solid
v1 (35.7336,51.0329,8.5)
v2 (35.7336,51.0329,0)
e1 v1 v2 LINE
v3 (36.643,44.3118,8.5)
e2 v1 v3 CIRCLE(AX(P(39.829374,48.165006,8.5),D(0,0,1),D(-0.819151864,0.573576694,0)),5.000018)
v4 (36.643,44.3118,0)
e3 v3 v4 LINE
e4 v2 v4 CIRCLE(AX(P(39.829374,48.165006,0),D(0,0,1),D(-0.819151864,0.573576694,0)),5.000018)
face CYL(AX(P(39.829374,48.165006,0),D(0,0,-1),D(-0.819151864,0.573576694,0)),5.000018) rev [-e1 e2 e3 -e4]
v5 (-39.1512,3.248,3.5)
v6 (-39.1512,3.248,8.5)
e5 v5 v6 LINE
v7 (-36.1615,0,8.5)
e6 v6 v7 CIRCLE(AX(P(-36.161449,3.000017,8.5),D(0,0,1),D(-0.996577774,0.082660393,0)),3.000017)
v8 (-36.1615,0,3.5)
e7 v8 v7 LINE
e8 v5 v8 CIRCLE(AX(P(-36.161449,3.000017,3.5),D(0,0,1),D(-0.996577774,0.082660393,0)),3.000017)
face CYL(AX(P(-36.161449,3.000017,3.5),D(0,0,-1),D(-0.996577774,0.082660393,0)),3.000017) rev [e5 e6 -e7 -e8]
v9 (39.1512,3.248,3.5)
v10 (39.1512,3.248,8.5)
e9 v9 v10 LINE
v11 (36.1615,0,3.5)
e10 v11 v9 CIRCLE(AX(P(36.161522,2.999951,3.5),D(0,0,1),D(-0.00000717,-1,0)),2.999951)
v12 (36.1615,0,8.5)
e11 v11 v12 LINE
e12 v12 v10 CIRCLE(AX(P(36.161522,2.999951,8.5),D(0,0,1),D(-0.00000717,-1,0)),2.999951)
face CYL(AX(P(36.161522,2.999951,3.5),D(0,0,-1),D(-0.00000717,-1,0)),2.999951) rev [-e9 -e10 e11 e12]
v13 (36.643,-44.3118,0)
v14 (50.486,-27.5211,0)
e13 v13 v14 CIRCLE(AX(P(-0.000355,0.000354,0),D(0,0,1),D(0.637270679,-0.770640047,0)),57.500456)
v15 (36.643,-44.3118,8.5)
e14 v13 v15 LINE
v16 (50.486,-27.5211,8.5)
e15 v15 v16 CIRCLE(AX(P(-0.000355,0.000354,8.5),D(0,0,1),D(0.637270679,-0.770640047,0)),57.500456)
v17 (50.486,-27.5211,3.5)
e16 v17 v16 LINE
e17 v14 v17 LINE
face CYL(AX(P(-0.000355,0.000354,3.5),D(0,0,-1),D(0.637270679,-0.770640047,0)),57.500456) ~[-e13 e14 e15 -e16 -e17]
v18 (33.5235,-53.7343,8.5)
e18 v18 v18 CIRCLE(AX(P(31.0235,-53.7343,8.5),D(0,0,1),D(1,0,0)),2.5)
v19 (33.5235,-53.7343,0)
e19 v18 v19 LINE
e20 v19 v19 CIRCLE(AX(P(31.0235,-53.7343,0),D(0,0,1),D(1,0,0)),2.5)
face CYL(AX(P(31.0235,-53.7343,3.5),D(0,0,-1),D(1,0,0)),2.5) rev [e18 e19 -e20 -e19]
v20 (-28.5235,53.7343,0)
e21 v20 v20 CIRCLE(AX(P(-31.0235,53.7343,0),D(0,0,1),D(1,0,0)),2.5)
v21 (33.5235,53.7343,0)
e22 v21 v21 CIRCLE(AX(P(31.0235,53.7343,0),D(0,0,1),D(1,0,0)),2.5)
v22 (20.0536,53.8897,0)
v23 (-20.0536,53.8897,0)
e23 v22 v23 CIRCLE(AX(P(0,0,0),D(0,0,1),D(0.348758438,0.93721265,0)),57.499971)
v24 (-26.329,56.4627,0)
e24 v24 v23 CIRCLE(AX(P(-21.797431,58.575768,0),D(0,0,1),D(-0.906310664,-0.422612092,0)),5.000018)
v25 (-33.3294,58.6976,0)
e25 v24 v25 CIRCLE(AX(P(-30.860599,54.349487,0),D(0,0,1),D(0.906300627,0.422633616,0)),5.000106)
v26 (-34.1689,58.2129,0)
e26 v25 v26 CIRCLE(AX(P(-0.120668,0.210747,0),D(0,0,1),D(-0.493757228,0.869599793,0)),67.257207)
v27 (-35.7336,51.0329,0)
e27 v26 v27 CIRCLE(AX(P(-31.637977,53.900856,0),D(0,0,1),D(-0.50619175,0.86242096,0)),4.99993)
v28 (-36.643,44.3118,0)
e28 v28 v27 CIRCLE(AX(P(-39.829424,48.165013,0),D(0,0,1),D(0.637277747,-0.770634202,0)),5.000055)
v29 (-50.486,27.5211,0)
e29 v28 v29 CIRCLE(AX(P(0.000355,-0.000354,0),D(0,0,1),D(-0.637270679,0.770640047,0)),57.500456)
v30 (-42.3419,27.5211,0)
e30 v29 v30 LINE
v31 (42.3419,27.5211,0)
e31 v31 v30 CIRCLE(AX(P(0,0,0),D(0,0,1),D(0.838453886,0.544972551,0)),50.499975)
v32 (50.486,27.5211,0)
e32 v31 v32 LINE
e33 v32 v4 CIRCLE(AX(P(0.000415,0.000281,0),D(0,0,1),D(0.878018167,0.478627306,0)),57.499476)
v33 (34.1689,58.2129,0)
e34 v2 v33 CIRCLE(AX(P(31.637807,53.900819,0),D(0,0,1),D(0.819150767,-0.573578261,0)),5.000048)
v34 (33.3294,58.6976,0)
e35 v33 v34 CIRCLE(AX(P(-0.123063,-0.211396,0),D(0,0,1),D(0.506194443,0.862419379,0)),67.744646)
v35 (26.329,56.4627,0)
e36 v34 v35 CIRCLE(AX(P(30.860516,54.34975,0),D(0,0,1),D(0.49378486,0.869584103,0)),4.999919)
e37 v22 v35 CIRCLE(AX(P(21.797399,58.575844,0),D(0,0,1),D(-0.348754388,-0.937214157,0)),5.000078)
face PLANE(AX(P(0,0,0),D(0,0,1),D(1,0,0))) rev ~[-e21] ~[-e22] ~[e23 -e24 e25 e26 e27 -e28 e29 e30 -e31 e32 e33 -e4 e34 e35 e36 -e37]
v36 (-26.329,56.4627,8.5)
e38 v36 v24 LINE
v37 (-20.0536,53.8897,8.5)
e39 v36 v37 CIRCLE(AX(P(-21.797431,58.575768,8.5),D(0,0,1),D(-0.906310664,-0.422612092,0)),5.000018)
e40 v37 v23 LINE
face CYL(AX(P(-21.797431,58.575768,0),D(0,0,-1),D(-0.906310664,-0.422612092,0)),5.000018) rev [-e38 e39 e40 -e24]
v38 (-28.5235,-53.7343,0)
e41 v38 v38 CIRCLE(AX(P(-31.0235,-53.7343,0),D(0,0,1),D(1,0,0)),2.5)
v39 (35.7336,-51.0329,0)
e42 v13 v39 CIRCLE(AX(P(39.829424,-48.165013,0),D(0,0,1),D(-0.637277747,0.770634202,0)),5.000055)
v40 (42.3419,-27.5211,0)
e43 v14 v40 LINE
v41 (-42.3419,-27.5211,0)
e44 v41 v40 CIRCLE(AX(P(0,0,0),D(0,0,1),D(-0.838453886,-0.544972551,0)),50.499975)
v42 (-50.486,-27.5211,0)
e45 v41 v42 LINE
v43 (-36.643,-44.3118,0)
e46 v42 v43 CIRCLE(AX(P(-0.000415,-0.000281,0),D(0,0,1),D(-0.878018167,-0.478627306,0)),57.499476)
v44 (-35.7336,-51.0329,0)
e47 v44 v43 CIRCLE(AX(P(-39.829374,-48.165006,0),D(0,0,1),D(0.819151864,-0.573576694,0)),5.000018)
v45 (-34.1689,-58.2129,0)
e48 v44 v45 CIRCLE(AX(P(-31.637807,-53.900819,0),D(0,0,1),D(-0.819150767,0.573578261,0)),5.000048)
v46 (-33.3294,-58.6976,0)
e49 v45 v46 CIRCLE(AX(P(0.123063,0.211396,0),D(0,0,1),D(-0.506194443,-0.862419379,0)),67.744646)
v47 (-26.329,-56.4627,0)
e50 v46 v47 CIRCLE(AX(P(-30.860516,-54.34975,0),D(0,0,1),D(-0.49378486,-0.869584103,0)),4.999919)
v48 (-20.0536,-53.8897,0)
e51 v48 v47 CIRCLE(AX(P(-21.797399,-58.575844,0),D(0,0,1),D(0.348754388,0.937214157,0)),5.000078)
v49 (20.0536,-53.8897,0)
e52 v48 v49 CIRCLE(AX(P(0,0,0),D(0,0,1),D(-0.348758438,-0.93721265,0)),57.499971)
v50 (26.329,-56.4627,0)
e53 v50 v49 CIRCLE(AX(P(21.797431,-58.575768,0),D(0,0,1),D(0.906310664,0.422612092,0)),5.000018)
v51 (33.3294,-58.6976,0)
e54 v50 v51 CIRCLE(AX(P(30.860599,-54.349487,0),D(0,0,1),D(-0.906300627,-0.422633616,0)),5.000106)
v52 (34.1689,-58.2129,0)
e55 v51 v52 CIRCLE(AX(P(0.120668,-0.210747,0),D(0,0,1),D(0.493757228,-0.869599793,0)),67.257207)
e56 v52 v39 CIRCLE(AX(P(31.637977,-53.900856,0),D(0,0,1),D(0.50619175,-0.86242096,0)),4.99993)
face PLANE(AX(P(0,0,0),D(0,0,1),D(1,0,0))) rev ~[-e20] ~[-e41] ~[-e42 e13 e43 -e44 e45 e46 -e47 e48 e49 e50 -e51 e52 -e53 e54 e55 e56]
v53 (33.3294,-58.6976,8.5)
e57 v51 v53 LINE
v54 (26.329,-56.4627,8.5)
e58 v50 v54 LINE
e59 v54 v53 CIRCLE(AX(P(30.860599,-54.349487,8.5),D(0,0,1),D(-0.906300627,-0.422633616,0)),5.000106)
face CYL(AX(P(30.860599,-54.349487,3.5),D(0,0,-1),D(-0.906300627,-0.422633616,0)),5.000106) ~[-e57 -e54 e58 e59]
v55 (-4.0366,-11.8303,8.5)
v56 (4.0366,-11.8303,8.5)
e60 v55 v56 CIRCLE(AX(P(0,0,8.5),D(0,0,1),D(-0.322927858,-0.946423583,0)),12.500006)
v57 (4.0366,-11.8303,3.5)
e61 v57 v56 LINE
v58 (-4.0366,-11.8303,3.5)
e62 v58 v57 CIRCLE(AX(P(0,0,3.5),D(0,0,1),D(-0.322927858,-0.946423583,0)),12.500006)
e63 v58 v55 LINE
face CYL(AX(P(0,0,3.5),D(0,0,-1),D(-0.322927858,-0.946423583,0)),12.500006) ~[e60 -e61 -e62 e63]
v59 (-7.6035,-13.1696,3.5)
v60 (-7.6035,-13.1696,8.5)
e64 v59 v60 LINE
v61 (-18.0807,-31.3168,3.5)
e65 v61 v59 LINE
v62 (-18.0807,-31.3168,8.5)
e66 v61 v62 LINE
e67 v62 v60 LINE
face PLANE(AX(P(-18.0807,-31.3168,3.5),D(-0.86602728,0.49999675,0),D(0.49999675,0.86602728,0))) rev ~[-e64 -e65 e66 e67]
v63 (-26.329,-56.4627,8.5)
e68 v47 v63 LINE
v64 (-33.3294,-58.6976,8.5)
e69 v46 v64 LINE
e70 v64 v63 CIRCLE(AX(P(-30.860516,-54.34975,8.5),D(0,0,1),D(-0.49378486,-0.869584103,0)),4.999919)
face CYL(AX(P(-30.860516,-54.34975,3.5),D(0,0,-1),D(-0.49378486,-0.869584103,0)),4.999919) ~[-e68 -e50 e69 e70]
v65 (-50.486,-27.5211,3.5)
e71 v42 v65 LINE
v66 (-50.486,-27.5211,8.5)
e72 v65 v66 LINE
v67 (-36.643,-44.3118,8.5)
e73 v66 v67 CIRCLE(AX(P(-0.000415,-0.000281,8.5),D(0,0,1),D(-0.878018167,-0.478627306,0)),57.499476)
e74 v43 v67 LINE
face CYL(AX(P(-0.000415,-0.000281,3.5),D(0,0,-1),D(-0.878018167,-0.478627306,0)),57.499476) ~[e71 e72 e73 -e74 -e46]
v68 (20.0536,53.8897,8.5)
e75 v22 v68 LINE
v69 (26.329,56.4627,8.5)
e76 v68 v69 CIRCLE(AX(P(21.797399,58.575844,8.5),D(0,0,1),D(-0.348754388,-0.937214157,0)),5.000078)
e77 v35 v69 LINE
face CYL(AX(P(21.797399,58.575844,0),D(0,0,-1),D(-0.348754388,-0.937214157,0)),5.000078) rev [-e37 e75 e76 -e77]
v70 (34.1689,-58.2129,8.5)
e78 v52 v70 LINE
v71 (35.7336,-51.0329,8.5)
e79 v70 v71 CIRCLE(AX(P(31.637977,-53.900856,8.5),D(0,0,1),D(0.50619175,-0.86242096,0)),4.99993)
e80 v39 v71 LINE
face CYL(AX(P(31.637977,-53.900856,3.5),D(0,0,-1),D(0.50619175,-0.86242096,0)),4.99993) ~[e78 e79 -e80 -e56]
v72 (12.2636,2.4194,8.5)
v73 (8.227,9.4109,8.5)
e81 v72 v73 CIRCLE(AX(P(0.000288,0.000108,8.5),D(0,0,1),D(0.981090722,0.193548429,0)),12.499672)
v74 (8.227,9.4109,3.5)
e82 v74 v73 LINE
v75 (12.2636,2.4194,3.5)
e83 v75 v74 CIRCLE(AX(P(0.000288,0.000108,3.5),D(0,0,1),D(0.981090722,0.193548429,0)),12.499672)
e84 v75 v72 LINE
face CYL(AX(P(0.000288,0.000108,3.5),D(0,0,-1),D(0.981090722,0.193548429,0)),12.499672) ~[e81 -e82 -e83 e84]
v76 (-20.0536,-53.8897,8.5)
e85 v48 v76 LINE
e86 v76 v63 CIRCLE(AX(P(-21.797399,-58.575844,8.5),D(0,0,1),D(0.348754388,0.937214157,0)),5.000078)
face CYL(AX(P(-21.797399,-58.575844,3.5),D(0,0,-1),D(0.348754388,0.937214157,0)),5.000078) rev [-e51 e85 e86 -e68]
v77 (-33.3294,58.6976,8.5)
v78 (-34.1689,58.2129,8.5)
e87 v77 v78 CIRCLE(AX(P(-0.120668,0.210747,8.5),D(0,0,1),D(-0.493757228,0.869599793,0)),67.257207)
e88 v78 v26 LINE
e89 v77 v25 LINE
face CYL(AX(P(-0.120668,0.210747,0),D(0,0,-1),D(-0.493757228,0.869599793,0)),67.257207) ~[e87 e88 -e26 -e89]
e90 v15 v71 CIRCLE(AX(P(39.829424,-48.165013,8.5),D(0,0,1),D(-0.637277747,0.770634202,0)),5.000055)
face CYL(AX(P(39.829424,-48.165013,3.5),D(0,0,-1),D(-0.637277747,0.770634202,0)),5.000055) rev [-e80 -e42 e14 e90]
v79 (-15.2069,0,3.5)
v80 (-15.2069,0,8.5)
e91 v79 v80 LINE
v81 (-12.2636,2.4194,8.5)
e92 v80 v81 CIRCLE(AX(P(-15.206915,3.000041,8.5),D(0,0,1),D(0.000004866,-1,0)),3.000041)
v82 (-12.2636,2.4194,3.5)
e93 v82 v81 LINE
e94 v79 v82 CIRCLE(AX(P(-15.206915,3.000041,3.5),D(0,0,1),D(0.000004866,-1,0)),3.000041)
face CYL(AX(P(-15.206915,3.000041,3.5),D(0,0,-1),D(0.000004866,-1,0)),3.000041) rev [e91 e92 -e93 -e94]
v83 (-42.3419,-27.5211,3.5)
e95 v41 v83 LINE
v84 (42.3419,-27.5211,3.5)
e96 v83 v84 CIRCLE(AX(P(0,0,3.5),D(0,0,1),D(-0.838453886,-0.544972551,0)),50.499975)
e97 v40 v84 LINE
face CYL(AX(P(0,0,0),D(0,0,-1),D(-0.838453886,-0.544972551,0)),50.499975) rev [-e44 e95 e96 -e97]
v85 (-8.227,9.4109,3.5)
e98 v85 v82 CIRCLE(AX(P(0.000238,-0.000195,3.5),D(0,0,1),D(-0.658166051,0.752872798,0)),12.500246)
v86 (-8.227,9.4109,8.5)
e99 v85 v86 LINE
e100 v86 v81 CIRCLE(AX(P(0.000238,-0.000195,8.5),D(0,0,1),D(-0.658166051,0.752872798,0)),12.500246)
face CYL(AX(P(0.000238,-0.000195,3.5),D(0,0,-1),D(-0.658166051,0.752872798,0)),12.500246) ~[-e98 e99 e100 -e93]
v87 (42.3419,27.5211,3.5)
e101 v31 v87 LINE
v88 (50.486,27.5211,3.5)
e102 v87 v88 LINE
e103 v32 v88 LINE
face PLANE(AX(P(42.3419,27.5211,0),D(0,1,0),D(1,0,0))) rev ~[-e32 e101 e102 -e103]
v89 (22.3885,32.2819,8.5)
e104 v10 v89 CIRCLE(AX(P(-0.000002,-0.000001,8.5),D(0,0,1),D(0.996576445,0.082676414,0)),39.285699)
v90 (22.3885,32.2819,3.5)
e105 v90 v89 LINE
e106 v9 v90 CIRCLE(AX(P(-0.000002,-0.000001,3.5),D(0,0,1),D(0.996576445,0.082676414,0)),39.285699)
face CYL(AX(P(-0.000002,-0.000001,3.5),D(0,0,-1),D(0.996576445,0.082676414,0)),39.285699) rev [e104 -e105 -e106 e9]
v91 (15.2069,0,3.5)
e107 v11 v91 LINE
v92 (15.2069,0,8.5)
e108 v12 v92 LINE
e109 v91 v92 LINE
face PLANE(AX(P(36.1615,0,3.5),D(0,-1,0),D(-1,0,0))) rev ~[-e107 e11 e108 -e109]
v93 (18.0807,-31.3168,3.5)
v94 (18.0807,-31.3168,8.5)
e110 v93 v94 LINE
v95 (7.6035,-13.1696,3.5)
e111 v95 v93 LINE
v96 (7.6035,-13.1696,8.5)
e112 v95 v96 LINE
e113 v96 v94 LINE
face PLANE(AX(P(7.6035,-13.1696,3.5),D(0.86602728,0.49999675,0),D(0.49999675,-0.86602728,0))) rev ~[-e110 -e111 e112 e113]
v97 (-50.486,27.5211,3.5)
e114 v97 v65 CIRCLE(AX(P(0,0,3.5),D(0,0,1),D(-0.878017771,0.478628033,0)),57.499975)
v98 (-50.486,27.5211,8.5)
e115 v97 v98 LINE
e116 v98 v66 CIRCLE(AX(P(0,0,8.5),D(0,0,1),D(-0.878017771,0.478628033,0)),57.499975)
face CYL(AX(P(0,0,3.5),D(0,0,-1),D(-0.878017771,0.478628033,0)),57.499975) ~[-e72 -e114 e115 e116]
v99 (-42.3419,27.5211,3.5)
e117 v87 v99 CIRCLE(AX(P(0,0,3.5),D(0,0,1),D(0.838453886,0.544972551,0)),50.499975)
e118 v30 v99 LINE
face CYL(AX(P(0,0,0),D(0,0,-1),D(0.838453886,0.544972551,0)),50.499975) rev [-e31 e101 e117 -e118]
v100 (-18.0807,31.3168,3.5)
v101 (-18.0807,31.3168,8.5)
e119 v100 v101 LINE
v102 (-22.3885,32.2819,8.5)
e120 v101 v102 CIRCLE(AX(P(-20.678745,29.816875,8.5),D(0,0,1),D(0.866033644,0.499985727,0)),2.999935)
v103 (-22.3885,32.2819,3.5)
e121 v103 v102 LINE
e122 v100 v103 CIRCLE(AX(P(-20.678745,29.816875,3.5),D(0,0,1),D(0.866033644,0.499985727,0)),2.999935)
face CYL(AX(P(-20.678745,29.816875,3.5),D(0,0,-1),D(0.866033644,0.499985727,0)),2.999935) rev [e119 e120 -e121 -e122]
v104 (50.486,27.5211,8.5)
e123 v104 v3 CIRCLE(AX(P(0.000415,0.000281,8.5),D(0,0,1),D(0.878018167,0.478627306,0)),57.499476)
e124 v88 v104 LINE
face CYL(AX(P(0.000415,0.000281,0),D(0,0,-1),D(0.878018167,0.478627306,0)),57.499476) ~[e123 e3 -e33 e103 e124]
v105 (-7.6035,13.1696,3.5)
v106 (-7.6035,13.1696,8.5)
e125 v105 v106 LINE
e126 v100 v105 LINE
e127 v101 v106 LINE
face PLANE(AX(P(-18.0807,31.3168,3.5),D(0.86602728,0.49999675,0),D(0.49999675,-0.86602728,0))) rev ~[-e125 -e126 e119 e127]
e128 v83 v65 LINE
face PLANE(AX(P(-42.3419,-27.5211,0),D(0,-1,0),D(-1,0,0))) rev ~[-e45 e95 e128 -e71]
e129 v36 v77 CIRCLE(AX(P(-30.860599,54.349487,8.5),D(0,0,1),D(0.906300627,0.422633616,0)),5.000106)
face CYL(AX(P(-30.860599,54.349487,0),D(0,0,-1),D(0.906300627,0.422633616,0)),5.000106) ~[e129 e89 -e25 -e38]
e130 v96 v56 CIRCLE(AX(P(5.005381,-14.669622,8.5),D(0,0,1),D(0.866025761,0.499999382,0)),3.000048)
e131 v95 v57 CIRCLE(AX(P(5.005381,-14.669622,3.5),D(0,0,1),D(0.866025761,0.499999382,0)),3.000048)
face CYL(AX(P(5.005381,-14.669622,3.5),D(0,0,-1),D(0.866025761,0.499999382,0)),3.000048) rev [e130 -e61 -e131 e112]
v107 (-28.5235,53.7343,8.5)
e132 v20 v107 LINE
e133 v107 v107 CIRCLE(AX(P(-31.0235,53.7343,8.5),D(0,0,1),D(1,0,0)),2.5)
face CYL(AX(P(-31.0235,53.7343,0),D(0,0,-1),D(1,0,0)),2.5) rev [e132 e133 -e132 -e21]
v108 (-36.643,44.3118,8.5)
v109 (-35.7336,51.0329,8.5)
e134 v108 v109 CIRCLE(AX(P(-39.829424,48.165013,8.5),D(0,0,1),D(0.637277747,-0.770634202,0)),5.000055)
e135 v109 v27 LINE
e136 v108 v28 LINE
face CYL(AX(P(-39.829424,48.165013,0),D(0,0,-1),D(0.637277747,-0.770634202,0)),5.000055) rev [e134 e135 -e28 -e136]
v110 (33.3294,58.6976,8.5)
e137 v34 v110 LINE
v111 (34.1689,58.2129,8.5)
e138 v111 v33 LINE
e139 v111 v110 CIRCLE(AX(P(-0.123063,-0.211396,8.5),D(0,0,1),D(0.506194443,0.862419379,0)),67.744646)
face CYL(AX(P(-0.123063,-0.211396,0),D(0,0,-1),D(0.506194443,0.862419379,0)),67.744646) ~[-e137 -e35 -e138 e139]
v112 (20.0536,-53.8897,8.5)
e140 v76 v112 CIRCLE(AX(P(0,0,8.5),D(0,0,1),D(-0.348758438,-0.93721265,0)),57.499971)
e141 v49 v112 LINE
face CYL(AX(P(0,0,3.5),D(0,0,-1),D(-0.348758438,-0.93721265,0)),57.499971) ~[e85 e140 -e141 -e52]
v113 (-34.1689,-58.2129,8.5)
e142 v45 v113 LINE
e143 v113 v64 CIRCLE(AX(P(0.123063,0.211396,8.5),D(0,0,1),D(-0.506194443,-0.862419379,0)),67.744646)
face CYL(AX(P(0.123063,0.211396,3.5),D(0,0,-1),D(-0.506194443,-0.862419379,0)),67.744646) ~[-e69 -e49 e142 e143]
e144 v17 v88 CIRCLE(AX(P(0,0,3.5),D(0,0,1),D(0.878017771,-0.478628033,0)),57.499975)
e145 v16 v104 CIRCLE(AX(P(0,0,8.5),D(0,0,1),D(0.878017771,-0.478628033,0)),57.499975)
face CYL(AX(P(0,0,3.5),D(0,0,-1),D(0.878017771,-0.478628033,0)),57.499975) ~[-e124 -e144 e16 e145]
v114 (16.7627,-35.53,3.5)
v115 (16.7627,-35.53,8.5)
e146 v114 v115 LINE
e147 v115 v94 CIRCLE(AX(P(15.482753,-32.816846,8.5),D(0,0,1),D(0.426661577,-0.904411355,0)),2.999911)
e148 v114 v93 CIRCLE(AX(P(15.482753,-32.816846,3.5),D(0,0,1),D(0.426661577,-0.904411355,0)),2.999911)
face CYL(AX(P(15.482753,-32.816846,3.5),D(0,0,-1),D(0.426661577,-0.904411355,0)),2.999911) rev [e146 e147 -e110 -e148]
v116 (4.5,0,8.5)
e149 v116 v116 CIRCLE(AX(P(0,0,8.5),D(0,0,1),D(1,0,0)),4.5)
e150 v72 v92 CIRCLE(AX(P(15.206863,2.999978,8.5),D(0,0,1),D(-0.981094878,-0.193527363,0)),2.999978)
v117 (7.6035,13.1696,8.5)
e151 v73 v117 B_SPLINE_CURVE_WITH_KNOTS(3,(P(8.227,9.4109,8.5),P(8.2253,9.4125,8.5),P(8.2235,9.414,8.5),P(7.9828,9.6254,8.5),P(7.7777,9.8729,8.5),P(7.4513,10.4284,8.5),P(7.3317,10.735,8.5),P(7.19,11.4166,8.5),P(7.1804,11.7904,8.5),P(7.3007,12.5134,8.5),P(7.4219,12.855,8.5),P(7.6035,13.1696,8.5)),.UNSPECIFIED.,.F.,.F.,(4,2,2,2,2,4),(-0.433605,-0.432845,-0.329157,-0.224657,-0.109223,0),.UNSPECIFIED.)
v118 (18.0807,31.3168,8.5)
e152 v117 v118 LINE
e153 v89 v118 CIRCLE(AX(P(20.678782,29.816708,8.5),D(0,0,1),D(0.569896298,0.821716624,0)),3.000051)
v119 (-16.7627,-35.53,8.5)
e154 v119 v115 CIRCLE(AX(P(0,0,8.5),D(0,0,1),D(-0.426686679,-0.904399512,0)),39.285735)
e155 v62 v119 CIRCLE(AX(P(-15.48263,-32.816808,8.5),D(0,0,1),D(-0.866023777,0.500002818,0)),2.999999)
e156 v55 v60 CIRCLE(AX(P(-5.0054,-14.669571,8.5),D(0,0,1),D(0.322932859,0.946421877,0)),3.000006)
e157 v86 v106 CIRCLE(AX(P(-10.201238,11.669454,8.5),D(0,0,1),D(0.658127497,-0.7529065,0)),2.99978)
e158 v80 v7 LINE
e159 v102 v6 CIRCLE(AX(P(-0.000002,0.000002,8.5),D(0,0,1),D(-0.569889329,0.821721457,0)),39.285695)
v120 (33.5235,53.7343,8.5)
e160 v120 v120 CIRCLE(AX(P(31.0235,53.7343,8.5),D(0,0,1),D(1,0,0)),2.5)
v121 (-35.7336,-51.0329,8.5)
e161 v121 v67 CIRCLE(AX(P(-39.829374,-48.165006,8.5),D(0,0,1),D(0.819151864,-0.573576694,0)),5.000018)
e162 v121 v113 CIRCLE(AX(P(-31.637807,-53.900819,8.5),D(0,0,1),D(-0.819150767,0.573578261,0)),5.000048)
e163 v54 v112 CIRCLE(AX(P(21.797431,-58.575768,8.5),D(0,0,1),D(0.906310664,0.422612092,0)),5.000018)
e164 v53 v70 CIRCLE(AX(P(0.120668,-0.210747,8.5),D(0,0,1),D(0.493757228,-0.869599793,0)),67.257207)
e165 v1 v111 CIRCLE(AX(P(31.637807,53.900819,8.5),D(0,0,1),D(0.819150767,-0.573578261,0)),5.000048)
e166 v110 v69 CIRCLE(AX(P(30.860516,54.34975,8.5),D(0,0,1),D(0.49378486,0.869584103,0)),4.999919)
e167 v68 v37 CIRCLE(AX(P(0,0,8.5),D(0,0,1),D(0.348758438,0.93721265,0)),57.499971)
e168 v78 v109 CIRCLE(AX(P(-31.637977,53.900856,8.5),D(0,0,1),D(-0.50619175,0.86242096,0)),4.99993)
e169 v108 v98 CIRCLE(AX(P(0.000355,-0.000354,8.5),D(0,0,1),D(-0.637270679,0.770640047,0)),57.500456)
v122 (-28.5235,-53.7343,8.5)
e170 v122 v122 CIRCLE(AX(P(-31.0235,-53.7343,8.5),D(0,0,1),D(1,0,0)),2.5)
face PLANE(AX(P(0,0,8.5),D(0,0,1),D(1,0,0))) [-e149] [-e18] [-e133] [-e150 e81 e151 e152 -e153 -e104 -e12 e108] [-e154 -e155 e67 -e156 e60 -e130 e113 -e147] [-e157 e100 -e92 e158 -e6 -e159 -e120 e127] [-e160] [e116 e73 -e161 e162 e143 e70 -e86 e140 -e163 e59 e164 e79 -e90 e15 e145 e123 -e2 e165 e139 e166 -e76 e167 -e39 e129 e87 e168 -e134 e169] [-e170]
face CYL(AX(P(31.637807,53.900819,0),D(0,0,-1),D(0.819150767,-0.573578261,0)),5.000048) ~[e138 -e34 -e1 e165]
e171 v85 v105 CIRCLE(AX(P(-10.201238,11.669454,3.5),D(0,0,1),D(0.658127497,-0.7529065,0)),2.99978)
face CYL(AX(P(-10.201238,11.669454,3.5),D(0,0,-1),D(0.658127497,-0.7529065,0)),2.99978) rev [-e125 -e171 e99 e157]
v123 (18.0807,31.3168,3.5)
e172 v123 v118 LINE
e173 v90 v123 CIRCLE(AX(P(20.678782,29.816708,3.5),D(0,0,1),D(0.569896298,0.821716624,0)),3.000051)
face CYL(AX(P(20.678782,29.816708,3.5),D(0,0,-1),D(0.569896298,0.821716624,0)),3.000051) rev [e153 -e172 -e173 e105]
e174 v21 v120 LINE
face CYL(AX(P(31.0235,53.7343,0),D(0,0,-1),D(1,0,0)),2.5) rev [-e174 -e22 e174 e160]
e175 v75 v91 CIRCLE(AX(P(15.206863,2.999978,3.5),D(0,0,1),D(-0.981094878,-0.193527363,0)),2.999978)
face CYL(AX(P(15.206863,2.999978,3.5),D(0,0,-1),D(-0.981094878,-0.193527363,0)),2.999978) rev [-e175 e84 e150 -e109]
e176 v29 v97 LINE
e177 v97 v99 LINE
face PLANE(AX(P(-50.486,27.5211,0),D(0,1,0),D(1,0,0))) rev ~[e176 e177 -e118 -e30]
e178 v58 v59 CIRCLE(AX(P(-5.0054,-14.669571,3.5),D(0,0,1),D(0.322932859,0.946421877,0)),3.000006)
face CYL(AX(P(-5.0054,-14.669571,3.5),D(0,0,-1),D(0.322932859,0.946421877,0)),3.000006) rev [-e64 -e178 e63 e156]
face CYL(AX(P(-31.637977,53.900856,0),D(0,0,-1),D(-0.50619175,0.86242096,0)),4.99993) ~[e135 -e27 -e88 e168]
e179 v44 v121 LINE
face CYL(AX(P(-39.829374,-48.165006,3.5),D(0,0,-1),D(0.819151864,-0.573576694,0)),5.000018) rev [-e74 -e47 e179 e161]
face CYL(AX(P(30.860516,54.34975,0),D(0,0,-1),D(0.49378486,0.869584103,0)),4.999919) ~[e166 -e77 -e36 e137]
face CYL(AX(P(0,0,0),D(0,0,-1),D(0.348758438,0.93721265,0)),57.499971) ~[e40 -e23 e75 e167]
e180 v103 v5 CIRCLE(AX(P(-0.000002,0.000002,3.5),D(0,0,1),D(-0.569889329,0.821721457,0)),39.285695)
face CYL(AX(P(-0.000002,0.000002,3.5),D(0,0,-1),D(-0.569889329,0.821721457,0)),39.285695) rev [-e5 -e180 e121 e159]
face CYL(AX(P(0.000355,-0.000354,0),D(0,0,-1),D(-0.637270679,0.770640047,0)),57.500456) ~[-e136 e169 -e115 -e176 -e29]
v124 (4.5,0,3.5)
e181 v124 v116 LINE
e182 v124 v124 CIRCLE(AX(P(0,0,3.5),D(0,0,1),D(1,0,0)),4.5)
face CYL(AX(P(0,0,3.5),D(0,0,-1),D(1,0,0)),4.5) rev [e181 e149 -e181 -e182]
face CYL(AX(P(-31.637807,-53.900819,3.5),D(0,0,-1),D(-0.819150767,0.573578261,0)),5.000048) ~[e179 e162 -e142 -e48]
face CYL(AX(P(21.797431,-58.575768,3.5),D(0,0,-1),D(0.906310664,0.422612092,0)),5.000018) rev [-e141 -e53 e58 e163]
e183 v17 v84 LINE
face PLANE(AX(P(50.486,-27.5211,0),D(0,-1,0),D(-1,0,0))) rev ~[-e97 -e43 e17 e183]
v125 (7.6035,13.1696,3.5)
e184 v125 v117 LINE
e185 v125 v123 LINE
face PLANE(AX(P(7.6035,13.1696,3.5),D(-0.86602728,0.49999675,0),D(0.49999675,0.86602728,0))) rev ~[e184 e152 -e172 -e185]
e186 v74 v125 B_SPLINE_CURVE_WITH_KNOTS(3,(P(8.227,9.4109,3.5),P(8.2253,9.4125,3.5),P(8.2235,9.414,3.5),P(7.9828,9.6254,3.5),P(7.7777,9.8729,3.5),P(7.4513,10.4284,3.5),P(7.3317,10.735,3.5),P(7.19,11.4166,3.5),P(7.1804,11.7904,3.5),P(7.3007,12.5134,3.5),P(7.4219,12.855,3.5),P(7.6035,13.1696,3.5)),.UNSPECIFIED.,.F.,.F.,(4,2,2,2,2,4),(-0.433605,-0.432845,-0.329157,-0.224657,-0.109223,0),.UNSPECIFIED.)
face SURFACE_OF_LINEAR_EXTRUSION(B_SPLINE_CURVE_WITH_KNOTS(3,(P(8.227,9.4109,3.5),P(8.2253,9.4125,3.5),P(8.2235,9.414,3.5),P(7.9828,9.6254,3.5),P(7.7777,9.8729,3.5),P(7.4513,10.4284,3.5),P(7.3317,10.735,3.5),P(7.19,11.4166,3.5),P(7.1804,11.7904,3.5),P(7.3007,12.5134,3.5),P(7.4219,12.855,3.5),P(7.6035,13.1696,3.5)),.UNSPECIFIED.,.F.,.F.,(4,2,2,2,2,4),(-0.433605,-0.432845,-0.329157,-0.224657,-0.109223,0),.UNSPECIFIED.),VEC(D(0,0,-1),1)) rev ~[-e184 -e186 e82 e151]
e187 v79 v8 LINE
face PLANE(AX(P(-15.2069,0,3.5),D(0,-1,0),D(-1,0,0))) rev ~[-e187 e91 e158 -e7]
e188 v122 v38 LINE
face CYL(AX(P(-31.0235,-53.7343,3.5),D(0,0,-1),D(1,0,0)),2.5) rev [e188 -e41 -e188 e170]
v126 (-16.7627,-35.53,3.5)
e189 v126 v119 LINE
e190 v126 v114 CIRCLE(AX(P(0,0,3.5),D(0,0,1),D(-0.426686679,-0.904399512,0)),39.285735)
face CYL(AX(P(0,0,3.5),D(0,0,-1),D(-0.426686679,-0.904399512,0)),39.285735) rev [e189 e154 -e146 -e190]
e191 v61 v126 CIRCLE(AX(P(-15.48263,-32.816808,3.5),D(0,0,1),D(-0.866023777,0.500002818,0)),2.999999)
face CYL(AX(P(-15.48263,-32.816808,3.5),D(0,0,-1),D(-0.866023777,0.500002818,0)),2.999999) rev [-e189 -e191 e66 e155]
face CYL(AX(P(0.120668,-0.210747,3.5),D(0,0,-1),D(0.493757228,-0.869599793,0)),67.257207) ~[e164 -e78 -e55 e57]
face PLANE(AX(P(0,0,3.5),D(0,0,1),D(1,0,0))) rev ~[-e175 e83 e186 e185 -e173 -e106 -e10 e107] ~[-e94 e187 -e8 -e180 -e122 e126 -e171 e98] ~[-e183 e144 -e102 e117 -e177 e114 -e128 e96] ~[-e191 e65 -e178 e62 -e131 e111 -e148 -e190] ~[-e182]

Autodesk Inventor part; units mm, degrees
ref_plane "YZ Plane" through (0, 0, 0) normal (1, 0, 0) x (0, 1, 0)
ref_plane "XZ Plane" through (0, 0, 0) normal (0, 1, 0) x (-1, 0, 0)
ref_plane "XY Plane" through (0, 0, 0) normal (0, 0, 1) x (1, 0, 0)
sketch "Sketch1" plane through (0, 0, 0) normal (0, 0, 1) x (1, 0, 0)
  circle A0 centre (31.0235, 53.7343) radius 2.5 projected
  arc A1 (33.3294, 58.6976) -> (26.329, 56.4627) centre (30.8605, 54.3496) ccw projected
  arc A2 (20.0536, 53.8897) -> (26.329, 56.4627) centre (21.7974, 58.5758) ccw projected
  arc A3 (20.0536, 53.8897) -> (-20.0536, 53.8897) centre (0, 0) ccw projected
  arc A4 (-26.329, 56.4627) -> (-20.0536, 53.8897) centre (-21.7974, 58.5758) ccw projected
  arc A5 (-26.329, 56.4627) -> (-33.3294, 58.6976) centre (-30.8605, 54.3496) ccw projected
  arc A6 (-33.3294, 58.6976) -> (-34.1689, 58.2129) centre (0, 0) ccw projected
  arc A7 (-34.1689, 58.2129) -> (-35.7336, 51.0329) centre (-31.6379, 53.9008) ccw projected
  arc A8 (-36.643, 44.3118) -> (-35.7336, 51.0329) centre (-39.8294, 48.165) ccw projected
  arc A9 (-36.643, 44.3118) -> (-50.486, 27.5211) centre (0, 0) ccw projected
  line L0 (-50.486, 27.5211) -> (-42.3419, 27.5211) projected
  arc A10 (42.3419, 27.5211) -> (-42.3419, 27.5211) centre (0, 0) ccw projected
  line L1 (42.3419, 27.5211) -> (50.486, 27.5211) projected
  arc A11 (50.486, 27.5211) -> (36.643, 44.3118) centre (0, 0) ccw projected
  arc A12 (35.7336, 51.0329) -> (36.643, 44.3118) centre (39.8294, 48.165) ccw projected
  arc A13 (35.7336, 51.0329) -> (34.1689, 58.2129) centre (31.6379, 53.9008) ccw projected
  arc A14 (34.1689, 58.2129) -> (33.3294, 58.6976) centre (0, 0) ccw projected
  circle A15 centre (-31.0235, 53.7343) radius 2.5 projected
  arc A16 (26.329, -56.4627) -> (33.3294, -58.6976) centre (30.8605, -54.3496) ccw projected
  arc A17 (33.3294, -58.6976) -> (34.1689, -58.2129) centre (0, 0) ccw projected
  arc A18 (34.1689, -58.2129) -> (35.7336, -51.0329) centre (31.6379, -53.9008) ccw projected
  arc A19 (36.643, -44.3118) -> (35.7336, -51.0329) centre (39.8294, -48.165) ccw projected
  arc A20 (36.643, -44.3118) -> (50.486, -27.5211) centre (0, 0) ccw projected
  line L2 (50.486, -27.5211) -> (42.3419, -27.5211) projected
  arc A21 (-42.3419, -27.5211) -> (42.3419, -27.5211) centre (0, 0) ccw projected
  line L3 (-42.3419, -27.5211) -> (-50.486, -27.5211) projected
  arc A22 (-50.486, -27.5211) -> (-36.643, -44.3118) centre (0, 0) ccw projected
  arc A23 (-35.7336, -51.0329) -> (-36.643, -44.3118) centre (-39.8294, -48.165) ccw projected
  arc A24 (-35.7336, -51.0329) -> (-34.1689, -58.2129) centre (-31.6379, -53.9008) ccw projected
  arc A25 (-34.1689, -58.2129) -> (-33.3294, -58.6976) centre (0, 0) ccw projected
  arc A26 (-33.3294, -58.6976) -> (-26.329, -56.4627) centre (-30.8605, -54.3496) ccw projected
  arc A27 (-20.0536, -53.8897) -> (-26.329, -56.4627) centre (-21.7974, -58.5758) ccw projected
  arc A28 (-20.0536, -53.8897) -> (20.0536, -53.8897) centre (0, 0) ccw projected
  arc A29 (26.329, -56.4627) -> (20.0536, -53.8897) centre (21.7974, -58.5758) ccw projected
  circle A30 centre (31.0235, -53.7343) radius 2.5 projected
  circle A31 centre (-31.0235, -53.7343) radius 2.5 projected
extrude "Extrusion1" add sketch "Sketch1" along normal blind 3.5
sketch "Sketch2" plane through (0, 0, 3.5) normal (0, 0, 1) x (1, 0, 0)
  circle A0 centre (-31.0235, 53.7343) radius 2.5 projected
  circle A1 centre (31.0235, 53.7343) radius 2.5 projected
  arc A2 (33.3294, 58.6976) -> (26.329, 56.4627) centre (30.8605, 54.3496) ccw projected
  arc A3 (20.0536, 53.8897) -> (26.329, 56.4627) centre (21.7974, 58.5758) ccw projected
  arc A4 (20.0536, 53.8897) -> (-20.0536, 53.8897) centre (0, 0) ccw projected
  arc A5 (-26.329, 56.4627) -> (-20.0536, 53.8897) centre (-21.7974, 58.5758) ccw projected
  arc A6 (-26.329, 56.4627) -> (-33.3294, 58.6976) centre (-30.8605, 54.3496) ccw projected
  arc A7 (-33.3294, 58.6976) -> (-34.1689, 58.2129) centre (0, 0) ccw projected
  arc A8 (-34.1689, 58.2129) -> (-35.7336, 51.0329) centre (-31.6379, 53.9008) ccw projected
  arc A9 (-36.643, 44.3118) -> (-35.7336, 51.0329) centre (-39.8294, 48.165) ccw projected
  arc A10 (-36.643, 44.3118) -> (-50.486, 27.5211) centre (0, 0) ccw projected
  line L0 (-50.486, 27.5211) -> (-42.3419, 27.5211) projected
  arc A11 (42.3419, 27.5211) -> (-42.3419, 27.5211) centre (0, 0) ccw projected
  line L1 (42.3419, 27.5211) -> (50.486, 27.5211) projected
  arc A12 (50.486, 27.5211) -> (36.643, 44.3118) centre (0, 0) ccw projected
  arc A13 (35.7336, 51.0329) -> (36.643, 44.3118) centre (39.8294, 48.165) ccw projected
  arc A14 (35.7336, 51.0329) -> (34.1689, 58.2129) centre (31.6379, 53.9008) ccw projected
  arc A15 (34.1689, 58.2129) -> (33.3294, 58.6976) centre (0, 0) ccw projected
  circle A16 centre (-31.0235, -53.7343) radius 2.5 projected
  circle A17 centre (31.0235, -53.7343) radius 2.5 projected
  arc A18 (26.329, -56.4627) -> (33.3294, -58.6976) centre (30.8605, -54.3496) ccw projected
  arc A19 (33.3294, -58.6976) -> (34.1689, -58.2129) centre (0, 0) ccw projected
  arc A20 (34.1689, -58.2129) -> (35.7336, -51.0329) centre (31.6379, -53.9008) ccw projected
  arc A21 (36.643, -44.3118) -> (35.7336, -51.0329) centre (39.8294, -48.165) ccw projected
  arc A22 (36.643, -44.3118) -> (50.486, -27.5211) centre (0, 0) ccw projected
  line L2 (50.486, -27.5211) -> (42.3419, -27.5211) projected
  arc A23 (-42.3419, -27.5211) -> (42.3419, -27.5211) centre (0, 0) ccw projected
  line L3 (-42.3419, -27.5211) -> (-50.486, -27.5211) projected
  arc A24 (-50.486, -27.5211) -> (-36.643, -44.3118) centre (0, 0) ccw projected
  arc A25 (-35.7336, -51.0329) -> (-36.643, -44.3118) centre (-39.8294, -48.165) ccw projected
  arc A26 (-35.7336, -51.0329) -> (-34.1689, -58.2129) centre (-31.6379, -53.9008) ccw projected
  arc A27 (-34.1689, -58.2129) -> (-33.3294, -58.6976) centre (0, 0) ccw projected
  arc A28 (-33.3294, -58.6976) -> (-26.329, -56.4627) centre (-30.8605, -54.3496) ccw projected
  arc A29 (-20.0536, -53.8897) -> (-26.329, -56.4627) centre (-21.7974, -58.5758) ccw projected
  arc A30 (-20.0536, -53.8897) -> (20.0536, -53.8897) centre (0, 0) ccw projected
  arc A31 (26.329, -56.4627) -> (20.0536, -53.8897) centre (21.7974, -58.5758) ccw projected
  arc A32 (-50.486, 27.5211) -> (-50.486, -27.5211) centre (0, 0) ccw
  arc A33 (50.486, -27.5211) -> (50.486, 27.5211) centre (0, 0) ccw
  line L4 (-18.0807, 31.3168) -> (-7.6035, 13.1696) projected
  arc A34 (-22.3885, 32.2819) -> (-39.1512, 3.248) centre (0, 0) ccw projected
  line L5 (-15.2069, 0) -> (-36.1615, 0) projected
  line L6 (-18.0807, -31.3168) -> (-7.6035, -13.1696) projected
  line L7 (7.6035, -13.1696) -> (18.0807, -31.3168) projected
  arc A35 (-16.7627, -35.53) -> (16.7627, -35.53) centre (0, 0) ccw projected
  line L8 (36.1615, 0) -> (15.2069, 0) projected
  line L9 (7.6035, 13.1696) -> (18.0807, 31.3168) projected
  arc A36 (39.1512, 3.248) -> (22.3885, 32.2819) centre (0, 0) ccw projected
  arc A37 (12.2636, 2.4194) -> (8.227, 9.4109) centre (0, 0) ccw projected
  arc A38 (-8.227, 9.4109) -> (-12.2636, 2.4194) centre (0, 0) ccw projected
  arc A39 (-4.0366, -11.8303) -> (4.0366, -11.8303) centre (0, 0) ccw projected
  arc A40 (-18.0807, 31.3168) -> (-22.3885, 32.2819) centre (-20.6788, 29.8168) ccw projected
  arc A41 (-39.1512, 3.248) -> (-36.1615, 0) centre (-36.1615, 3) ccw projected
  arc A42 (-15.2069, 0) -> (-12.2636, 2.4194) centre (-15.2069, 3) ccw projected
  arc A43 (-8.227, 9.4109) -> (-7.6035, 13.1696) centre (-10.2015, 11.6696) ccw projected
  spline S0 degree 3 poles (8.227, 9.4109) (8.2253, 9.4125) (8.2235, 9.414) (7.9828, 9.6254) (7.7777, 9.8729) (7.4513, 10.4284) (7.3317, 10.735) (7.19, 11.4166) (7.1804, 11.7904) (7.3007, 12.5134) (7.4219, 12.855) (7.6035, 13.1696) knots -0.433605 -0.433605 -0.433605 -0.433605 -0.432845 -0.432845 -0.329157 -0.329157 -0.224657 -0.224657 -0.109223 -0.109223 0 0 0 0 projected
  arc A44 (22.3885, 32.2819) -> (18.0807, 31.3168) centre (20.6788, 29.8168) ccw projected
  arc A45 (36.1615, 0) -> (39.1512, 3.248) centre (36.1615, 3) ccw projected
  arc A46 (12.2636, 2.4194) -> (15.2069, 0) centre (15.2069, 3) ccw projected
  arc A47 (7.6035, -13.1696) -> (4.0366, -11.8303) centre (5.0054, -14.6696) ccw projected
  arc A48 (-4.0366, -11.8303) -> (-7.6035, -13.1696) centre (-5.0054, -14.6696) ccw projected
  arc A49 (-18.0807, -31.3168) -> (-16.7627, -35.53) centre (-15.4827, -32.8168) ccw projected
  arc A50 (16.7627, -35.53) -> (18.0807, -31.3168) centre (15.4827, -32.8168) ccw projected
  circle A51 centre (0, 0) radius 4.5 projected
extrude "Extrusion2" add sketch "Sketch2" along normal blind 5
properties part number "bottom_shield"
